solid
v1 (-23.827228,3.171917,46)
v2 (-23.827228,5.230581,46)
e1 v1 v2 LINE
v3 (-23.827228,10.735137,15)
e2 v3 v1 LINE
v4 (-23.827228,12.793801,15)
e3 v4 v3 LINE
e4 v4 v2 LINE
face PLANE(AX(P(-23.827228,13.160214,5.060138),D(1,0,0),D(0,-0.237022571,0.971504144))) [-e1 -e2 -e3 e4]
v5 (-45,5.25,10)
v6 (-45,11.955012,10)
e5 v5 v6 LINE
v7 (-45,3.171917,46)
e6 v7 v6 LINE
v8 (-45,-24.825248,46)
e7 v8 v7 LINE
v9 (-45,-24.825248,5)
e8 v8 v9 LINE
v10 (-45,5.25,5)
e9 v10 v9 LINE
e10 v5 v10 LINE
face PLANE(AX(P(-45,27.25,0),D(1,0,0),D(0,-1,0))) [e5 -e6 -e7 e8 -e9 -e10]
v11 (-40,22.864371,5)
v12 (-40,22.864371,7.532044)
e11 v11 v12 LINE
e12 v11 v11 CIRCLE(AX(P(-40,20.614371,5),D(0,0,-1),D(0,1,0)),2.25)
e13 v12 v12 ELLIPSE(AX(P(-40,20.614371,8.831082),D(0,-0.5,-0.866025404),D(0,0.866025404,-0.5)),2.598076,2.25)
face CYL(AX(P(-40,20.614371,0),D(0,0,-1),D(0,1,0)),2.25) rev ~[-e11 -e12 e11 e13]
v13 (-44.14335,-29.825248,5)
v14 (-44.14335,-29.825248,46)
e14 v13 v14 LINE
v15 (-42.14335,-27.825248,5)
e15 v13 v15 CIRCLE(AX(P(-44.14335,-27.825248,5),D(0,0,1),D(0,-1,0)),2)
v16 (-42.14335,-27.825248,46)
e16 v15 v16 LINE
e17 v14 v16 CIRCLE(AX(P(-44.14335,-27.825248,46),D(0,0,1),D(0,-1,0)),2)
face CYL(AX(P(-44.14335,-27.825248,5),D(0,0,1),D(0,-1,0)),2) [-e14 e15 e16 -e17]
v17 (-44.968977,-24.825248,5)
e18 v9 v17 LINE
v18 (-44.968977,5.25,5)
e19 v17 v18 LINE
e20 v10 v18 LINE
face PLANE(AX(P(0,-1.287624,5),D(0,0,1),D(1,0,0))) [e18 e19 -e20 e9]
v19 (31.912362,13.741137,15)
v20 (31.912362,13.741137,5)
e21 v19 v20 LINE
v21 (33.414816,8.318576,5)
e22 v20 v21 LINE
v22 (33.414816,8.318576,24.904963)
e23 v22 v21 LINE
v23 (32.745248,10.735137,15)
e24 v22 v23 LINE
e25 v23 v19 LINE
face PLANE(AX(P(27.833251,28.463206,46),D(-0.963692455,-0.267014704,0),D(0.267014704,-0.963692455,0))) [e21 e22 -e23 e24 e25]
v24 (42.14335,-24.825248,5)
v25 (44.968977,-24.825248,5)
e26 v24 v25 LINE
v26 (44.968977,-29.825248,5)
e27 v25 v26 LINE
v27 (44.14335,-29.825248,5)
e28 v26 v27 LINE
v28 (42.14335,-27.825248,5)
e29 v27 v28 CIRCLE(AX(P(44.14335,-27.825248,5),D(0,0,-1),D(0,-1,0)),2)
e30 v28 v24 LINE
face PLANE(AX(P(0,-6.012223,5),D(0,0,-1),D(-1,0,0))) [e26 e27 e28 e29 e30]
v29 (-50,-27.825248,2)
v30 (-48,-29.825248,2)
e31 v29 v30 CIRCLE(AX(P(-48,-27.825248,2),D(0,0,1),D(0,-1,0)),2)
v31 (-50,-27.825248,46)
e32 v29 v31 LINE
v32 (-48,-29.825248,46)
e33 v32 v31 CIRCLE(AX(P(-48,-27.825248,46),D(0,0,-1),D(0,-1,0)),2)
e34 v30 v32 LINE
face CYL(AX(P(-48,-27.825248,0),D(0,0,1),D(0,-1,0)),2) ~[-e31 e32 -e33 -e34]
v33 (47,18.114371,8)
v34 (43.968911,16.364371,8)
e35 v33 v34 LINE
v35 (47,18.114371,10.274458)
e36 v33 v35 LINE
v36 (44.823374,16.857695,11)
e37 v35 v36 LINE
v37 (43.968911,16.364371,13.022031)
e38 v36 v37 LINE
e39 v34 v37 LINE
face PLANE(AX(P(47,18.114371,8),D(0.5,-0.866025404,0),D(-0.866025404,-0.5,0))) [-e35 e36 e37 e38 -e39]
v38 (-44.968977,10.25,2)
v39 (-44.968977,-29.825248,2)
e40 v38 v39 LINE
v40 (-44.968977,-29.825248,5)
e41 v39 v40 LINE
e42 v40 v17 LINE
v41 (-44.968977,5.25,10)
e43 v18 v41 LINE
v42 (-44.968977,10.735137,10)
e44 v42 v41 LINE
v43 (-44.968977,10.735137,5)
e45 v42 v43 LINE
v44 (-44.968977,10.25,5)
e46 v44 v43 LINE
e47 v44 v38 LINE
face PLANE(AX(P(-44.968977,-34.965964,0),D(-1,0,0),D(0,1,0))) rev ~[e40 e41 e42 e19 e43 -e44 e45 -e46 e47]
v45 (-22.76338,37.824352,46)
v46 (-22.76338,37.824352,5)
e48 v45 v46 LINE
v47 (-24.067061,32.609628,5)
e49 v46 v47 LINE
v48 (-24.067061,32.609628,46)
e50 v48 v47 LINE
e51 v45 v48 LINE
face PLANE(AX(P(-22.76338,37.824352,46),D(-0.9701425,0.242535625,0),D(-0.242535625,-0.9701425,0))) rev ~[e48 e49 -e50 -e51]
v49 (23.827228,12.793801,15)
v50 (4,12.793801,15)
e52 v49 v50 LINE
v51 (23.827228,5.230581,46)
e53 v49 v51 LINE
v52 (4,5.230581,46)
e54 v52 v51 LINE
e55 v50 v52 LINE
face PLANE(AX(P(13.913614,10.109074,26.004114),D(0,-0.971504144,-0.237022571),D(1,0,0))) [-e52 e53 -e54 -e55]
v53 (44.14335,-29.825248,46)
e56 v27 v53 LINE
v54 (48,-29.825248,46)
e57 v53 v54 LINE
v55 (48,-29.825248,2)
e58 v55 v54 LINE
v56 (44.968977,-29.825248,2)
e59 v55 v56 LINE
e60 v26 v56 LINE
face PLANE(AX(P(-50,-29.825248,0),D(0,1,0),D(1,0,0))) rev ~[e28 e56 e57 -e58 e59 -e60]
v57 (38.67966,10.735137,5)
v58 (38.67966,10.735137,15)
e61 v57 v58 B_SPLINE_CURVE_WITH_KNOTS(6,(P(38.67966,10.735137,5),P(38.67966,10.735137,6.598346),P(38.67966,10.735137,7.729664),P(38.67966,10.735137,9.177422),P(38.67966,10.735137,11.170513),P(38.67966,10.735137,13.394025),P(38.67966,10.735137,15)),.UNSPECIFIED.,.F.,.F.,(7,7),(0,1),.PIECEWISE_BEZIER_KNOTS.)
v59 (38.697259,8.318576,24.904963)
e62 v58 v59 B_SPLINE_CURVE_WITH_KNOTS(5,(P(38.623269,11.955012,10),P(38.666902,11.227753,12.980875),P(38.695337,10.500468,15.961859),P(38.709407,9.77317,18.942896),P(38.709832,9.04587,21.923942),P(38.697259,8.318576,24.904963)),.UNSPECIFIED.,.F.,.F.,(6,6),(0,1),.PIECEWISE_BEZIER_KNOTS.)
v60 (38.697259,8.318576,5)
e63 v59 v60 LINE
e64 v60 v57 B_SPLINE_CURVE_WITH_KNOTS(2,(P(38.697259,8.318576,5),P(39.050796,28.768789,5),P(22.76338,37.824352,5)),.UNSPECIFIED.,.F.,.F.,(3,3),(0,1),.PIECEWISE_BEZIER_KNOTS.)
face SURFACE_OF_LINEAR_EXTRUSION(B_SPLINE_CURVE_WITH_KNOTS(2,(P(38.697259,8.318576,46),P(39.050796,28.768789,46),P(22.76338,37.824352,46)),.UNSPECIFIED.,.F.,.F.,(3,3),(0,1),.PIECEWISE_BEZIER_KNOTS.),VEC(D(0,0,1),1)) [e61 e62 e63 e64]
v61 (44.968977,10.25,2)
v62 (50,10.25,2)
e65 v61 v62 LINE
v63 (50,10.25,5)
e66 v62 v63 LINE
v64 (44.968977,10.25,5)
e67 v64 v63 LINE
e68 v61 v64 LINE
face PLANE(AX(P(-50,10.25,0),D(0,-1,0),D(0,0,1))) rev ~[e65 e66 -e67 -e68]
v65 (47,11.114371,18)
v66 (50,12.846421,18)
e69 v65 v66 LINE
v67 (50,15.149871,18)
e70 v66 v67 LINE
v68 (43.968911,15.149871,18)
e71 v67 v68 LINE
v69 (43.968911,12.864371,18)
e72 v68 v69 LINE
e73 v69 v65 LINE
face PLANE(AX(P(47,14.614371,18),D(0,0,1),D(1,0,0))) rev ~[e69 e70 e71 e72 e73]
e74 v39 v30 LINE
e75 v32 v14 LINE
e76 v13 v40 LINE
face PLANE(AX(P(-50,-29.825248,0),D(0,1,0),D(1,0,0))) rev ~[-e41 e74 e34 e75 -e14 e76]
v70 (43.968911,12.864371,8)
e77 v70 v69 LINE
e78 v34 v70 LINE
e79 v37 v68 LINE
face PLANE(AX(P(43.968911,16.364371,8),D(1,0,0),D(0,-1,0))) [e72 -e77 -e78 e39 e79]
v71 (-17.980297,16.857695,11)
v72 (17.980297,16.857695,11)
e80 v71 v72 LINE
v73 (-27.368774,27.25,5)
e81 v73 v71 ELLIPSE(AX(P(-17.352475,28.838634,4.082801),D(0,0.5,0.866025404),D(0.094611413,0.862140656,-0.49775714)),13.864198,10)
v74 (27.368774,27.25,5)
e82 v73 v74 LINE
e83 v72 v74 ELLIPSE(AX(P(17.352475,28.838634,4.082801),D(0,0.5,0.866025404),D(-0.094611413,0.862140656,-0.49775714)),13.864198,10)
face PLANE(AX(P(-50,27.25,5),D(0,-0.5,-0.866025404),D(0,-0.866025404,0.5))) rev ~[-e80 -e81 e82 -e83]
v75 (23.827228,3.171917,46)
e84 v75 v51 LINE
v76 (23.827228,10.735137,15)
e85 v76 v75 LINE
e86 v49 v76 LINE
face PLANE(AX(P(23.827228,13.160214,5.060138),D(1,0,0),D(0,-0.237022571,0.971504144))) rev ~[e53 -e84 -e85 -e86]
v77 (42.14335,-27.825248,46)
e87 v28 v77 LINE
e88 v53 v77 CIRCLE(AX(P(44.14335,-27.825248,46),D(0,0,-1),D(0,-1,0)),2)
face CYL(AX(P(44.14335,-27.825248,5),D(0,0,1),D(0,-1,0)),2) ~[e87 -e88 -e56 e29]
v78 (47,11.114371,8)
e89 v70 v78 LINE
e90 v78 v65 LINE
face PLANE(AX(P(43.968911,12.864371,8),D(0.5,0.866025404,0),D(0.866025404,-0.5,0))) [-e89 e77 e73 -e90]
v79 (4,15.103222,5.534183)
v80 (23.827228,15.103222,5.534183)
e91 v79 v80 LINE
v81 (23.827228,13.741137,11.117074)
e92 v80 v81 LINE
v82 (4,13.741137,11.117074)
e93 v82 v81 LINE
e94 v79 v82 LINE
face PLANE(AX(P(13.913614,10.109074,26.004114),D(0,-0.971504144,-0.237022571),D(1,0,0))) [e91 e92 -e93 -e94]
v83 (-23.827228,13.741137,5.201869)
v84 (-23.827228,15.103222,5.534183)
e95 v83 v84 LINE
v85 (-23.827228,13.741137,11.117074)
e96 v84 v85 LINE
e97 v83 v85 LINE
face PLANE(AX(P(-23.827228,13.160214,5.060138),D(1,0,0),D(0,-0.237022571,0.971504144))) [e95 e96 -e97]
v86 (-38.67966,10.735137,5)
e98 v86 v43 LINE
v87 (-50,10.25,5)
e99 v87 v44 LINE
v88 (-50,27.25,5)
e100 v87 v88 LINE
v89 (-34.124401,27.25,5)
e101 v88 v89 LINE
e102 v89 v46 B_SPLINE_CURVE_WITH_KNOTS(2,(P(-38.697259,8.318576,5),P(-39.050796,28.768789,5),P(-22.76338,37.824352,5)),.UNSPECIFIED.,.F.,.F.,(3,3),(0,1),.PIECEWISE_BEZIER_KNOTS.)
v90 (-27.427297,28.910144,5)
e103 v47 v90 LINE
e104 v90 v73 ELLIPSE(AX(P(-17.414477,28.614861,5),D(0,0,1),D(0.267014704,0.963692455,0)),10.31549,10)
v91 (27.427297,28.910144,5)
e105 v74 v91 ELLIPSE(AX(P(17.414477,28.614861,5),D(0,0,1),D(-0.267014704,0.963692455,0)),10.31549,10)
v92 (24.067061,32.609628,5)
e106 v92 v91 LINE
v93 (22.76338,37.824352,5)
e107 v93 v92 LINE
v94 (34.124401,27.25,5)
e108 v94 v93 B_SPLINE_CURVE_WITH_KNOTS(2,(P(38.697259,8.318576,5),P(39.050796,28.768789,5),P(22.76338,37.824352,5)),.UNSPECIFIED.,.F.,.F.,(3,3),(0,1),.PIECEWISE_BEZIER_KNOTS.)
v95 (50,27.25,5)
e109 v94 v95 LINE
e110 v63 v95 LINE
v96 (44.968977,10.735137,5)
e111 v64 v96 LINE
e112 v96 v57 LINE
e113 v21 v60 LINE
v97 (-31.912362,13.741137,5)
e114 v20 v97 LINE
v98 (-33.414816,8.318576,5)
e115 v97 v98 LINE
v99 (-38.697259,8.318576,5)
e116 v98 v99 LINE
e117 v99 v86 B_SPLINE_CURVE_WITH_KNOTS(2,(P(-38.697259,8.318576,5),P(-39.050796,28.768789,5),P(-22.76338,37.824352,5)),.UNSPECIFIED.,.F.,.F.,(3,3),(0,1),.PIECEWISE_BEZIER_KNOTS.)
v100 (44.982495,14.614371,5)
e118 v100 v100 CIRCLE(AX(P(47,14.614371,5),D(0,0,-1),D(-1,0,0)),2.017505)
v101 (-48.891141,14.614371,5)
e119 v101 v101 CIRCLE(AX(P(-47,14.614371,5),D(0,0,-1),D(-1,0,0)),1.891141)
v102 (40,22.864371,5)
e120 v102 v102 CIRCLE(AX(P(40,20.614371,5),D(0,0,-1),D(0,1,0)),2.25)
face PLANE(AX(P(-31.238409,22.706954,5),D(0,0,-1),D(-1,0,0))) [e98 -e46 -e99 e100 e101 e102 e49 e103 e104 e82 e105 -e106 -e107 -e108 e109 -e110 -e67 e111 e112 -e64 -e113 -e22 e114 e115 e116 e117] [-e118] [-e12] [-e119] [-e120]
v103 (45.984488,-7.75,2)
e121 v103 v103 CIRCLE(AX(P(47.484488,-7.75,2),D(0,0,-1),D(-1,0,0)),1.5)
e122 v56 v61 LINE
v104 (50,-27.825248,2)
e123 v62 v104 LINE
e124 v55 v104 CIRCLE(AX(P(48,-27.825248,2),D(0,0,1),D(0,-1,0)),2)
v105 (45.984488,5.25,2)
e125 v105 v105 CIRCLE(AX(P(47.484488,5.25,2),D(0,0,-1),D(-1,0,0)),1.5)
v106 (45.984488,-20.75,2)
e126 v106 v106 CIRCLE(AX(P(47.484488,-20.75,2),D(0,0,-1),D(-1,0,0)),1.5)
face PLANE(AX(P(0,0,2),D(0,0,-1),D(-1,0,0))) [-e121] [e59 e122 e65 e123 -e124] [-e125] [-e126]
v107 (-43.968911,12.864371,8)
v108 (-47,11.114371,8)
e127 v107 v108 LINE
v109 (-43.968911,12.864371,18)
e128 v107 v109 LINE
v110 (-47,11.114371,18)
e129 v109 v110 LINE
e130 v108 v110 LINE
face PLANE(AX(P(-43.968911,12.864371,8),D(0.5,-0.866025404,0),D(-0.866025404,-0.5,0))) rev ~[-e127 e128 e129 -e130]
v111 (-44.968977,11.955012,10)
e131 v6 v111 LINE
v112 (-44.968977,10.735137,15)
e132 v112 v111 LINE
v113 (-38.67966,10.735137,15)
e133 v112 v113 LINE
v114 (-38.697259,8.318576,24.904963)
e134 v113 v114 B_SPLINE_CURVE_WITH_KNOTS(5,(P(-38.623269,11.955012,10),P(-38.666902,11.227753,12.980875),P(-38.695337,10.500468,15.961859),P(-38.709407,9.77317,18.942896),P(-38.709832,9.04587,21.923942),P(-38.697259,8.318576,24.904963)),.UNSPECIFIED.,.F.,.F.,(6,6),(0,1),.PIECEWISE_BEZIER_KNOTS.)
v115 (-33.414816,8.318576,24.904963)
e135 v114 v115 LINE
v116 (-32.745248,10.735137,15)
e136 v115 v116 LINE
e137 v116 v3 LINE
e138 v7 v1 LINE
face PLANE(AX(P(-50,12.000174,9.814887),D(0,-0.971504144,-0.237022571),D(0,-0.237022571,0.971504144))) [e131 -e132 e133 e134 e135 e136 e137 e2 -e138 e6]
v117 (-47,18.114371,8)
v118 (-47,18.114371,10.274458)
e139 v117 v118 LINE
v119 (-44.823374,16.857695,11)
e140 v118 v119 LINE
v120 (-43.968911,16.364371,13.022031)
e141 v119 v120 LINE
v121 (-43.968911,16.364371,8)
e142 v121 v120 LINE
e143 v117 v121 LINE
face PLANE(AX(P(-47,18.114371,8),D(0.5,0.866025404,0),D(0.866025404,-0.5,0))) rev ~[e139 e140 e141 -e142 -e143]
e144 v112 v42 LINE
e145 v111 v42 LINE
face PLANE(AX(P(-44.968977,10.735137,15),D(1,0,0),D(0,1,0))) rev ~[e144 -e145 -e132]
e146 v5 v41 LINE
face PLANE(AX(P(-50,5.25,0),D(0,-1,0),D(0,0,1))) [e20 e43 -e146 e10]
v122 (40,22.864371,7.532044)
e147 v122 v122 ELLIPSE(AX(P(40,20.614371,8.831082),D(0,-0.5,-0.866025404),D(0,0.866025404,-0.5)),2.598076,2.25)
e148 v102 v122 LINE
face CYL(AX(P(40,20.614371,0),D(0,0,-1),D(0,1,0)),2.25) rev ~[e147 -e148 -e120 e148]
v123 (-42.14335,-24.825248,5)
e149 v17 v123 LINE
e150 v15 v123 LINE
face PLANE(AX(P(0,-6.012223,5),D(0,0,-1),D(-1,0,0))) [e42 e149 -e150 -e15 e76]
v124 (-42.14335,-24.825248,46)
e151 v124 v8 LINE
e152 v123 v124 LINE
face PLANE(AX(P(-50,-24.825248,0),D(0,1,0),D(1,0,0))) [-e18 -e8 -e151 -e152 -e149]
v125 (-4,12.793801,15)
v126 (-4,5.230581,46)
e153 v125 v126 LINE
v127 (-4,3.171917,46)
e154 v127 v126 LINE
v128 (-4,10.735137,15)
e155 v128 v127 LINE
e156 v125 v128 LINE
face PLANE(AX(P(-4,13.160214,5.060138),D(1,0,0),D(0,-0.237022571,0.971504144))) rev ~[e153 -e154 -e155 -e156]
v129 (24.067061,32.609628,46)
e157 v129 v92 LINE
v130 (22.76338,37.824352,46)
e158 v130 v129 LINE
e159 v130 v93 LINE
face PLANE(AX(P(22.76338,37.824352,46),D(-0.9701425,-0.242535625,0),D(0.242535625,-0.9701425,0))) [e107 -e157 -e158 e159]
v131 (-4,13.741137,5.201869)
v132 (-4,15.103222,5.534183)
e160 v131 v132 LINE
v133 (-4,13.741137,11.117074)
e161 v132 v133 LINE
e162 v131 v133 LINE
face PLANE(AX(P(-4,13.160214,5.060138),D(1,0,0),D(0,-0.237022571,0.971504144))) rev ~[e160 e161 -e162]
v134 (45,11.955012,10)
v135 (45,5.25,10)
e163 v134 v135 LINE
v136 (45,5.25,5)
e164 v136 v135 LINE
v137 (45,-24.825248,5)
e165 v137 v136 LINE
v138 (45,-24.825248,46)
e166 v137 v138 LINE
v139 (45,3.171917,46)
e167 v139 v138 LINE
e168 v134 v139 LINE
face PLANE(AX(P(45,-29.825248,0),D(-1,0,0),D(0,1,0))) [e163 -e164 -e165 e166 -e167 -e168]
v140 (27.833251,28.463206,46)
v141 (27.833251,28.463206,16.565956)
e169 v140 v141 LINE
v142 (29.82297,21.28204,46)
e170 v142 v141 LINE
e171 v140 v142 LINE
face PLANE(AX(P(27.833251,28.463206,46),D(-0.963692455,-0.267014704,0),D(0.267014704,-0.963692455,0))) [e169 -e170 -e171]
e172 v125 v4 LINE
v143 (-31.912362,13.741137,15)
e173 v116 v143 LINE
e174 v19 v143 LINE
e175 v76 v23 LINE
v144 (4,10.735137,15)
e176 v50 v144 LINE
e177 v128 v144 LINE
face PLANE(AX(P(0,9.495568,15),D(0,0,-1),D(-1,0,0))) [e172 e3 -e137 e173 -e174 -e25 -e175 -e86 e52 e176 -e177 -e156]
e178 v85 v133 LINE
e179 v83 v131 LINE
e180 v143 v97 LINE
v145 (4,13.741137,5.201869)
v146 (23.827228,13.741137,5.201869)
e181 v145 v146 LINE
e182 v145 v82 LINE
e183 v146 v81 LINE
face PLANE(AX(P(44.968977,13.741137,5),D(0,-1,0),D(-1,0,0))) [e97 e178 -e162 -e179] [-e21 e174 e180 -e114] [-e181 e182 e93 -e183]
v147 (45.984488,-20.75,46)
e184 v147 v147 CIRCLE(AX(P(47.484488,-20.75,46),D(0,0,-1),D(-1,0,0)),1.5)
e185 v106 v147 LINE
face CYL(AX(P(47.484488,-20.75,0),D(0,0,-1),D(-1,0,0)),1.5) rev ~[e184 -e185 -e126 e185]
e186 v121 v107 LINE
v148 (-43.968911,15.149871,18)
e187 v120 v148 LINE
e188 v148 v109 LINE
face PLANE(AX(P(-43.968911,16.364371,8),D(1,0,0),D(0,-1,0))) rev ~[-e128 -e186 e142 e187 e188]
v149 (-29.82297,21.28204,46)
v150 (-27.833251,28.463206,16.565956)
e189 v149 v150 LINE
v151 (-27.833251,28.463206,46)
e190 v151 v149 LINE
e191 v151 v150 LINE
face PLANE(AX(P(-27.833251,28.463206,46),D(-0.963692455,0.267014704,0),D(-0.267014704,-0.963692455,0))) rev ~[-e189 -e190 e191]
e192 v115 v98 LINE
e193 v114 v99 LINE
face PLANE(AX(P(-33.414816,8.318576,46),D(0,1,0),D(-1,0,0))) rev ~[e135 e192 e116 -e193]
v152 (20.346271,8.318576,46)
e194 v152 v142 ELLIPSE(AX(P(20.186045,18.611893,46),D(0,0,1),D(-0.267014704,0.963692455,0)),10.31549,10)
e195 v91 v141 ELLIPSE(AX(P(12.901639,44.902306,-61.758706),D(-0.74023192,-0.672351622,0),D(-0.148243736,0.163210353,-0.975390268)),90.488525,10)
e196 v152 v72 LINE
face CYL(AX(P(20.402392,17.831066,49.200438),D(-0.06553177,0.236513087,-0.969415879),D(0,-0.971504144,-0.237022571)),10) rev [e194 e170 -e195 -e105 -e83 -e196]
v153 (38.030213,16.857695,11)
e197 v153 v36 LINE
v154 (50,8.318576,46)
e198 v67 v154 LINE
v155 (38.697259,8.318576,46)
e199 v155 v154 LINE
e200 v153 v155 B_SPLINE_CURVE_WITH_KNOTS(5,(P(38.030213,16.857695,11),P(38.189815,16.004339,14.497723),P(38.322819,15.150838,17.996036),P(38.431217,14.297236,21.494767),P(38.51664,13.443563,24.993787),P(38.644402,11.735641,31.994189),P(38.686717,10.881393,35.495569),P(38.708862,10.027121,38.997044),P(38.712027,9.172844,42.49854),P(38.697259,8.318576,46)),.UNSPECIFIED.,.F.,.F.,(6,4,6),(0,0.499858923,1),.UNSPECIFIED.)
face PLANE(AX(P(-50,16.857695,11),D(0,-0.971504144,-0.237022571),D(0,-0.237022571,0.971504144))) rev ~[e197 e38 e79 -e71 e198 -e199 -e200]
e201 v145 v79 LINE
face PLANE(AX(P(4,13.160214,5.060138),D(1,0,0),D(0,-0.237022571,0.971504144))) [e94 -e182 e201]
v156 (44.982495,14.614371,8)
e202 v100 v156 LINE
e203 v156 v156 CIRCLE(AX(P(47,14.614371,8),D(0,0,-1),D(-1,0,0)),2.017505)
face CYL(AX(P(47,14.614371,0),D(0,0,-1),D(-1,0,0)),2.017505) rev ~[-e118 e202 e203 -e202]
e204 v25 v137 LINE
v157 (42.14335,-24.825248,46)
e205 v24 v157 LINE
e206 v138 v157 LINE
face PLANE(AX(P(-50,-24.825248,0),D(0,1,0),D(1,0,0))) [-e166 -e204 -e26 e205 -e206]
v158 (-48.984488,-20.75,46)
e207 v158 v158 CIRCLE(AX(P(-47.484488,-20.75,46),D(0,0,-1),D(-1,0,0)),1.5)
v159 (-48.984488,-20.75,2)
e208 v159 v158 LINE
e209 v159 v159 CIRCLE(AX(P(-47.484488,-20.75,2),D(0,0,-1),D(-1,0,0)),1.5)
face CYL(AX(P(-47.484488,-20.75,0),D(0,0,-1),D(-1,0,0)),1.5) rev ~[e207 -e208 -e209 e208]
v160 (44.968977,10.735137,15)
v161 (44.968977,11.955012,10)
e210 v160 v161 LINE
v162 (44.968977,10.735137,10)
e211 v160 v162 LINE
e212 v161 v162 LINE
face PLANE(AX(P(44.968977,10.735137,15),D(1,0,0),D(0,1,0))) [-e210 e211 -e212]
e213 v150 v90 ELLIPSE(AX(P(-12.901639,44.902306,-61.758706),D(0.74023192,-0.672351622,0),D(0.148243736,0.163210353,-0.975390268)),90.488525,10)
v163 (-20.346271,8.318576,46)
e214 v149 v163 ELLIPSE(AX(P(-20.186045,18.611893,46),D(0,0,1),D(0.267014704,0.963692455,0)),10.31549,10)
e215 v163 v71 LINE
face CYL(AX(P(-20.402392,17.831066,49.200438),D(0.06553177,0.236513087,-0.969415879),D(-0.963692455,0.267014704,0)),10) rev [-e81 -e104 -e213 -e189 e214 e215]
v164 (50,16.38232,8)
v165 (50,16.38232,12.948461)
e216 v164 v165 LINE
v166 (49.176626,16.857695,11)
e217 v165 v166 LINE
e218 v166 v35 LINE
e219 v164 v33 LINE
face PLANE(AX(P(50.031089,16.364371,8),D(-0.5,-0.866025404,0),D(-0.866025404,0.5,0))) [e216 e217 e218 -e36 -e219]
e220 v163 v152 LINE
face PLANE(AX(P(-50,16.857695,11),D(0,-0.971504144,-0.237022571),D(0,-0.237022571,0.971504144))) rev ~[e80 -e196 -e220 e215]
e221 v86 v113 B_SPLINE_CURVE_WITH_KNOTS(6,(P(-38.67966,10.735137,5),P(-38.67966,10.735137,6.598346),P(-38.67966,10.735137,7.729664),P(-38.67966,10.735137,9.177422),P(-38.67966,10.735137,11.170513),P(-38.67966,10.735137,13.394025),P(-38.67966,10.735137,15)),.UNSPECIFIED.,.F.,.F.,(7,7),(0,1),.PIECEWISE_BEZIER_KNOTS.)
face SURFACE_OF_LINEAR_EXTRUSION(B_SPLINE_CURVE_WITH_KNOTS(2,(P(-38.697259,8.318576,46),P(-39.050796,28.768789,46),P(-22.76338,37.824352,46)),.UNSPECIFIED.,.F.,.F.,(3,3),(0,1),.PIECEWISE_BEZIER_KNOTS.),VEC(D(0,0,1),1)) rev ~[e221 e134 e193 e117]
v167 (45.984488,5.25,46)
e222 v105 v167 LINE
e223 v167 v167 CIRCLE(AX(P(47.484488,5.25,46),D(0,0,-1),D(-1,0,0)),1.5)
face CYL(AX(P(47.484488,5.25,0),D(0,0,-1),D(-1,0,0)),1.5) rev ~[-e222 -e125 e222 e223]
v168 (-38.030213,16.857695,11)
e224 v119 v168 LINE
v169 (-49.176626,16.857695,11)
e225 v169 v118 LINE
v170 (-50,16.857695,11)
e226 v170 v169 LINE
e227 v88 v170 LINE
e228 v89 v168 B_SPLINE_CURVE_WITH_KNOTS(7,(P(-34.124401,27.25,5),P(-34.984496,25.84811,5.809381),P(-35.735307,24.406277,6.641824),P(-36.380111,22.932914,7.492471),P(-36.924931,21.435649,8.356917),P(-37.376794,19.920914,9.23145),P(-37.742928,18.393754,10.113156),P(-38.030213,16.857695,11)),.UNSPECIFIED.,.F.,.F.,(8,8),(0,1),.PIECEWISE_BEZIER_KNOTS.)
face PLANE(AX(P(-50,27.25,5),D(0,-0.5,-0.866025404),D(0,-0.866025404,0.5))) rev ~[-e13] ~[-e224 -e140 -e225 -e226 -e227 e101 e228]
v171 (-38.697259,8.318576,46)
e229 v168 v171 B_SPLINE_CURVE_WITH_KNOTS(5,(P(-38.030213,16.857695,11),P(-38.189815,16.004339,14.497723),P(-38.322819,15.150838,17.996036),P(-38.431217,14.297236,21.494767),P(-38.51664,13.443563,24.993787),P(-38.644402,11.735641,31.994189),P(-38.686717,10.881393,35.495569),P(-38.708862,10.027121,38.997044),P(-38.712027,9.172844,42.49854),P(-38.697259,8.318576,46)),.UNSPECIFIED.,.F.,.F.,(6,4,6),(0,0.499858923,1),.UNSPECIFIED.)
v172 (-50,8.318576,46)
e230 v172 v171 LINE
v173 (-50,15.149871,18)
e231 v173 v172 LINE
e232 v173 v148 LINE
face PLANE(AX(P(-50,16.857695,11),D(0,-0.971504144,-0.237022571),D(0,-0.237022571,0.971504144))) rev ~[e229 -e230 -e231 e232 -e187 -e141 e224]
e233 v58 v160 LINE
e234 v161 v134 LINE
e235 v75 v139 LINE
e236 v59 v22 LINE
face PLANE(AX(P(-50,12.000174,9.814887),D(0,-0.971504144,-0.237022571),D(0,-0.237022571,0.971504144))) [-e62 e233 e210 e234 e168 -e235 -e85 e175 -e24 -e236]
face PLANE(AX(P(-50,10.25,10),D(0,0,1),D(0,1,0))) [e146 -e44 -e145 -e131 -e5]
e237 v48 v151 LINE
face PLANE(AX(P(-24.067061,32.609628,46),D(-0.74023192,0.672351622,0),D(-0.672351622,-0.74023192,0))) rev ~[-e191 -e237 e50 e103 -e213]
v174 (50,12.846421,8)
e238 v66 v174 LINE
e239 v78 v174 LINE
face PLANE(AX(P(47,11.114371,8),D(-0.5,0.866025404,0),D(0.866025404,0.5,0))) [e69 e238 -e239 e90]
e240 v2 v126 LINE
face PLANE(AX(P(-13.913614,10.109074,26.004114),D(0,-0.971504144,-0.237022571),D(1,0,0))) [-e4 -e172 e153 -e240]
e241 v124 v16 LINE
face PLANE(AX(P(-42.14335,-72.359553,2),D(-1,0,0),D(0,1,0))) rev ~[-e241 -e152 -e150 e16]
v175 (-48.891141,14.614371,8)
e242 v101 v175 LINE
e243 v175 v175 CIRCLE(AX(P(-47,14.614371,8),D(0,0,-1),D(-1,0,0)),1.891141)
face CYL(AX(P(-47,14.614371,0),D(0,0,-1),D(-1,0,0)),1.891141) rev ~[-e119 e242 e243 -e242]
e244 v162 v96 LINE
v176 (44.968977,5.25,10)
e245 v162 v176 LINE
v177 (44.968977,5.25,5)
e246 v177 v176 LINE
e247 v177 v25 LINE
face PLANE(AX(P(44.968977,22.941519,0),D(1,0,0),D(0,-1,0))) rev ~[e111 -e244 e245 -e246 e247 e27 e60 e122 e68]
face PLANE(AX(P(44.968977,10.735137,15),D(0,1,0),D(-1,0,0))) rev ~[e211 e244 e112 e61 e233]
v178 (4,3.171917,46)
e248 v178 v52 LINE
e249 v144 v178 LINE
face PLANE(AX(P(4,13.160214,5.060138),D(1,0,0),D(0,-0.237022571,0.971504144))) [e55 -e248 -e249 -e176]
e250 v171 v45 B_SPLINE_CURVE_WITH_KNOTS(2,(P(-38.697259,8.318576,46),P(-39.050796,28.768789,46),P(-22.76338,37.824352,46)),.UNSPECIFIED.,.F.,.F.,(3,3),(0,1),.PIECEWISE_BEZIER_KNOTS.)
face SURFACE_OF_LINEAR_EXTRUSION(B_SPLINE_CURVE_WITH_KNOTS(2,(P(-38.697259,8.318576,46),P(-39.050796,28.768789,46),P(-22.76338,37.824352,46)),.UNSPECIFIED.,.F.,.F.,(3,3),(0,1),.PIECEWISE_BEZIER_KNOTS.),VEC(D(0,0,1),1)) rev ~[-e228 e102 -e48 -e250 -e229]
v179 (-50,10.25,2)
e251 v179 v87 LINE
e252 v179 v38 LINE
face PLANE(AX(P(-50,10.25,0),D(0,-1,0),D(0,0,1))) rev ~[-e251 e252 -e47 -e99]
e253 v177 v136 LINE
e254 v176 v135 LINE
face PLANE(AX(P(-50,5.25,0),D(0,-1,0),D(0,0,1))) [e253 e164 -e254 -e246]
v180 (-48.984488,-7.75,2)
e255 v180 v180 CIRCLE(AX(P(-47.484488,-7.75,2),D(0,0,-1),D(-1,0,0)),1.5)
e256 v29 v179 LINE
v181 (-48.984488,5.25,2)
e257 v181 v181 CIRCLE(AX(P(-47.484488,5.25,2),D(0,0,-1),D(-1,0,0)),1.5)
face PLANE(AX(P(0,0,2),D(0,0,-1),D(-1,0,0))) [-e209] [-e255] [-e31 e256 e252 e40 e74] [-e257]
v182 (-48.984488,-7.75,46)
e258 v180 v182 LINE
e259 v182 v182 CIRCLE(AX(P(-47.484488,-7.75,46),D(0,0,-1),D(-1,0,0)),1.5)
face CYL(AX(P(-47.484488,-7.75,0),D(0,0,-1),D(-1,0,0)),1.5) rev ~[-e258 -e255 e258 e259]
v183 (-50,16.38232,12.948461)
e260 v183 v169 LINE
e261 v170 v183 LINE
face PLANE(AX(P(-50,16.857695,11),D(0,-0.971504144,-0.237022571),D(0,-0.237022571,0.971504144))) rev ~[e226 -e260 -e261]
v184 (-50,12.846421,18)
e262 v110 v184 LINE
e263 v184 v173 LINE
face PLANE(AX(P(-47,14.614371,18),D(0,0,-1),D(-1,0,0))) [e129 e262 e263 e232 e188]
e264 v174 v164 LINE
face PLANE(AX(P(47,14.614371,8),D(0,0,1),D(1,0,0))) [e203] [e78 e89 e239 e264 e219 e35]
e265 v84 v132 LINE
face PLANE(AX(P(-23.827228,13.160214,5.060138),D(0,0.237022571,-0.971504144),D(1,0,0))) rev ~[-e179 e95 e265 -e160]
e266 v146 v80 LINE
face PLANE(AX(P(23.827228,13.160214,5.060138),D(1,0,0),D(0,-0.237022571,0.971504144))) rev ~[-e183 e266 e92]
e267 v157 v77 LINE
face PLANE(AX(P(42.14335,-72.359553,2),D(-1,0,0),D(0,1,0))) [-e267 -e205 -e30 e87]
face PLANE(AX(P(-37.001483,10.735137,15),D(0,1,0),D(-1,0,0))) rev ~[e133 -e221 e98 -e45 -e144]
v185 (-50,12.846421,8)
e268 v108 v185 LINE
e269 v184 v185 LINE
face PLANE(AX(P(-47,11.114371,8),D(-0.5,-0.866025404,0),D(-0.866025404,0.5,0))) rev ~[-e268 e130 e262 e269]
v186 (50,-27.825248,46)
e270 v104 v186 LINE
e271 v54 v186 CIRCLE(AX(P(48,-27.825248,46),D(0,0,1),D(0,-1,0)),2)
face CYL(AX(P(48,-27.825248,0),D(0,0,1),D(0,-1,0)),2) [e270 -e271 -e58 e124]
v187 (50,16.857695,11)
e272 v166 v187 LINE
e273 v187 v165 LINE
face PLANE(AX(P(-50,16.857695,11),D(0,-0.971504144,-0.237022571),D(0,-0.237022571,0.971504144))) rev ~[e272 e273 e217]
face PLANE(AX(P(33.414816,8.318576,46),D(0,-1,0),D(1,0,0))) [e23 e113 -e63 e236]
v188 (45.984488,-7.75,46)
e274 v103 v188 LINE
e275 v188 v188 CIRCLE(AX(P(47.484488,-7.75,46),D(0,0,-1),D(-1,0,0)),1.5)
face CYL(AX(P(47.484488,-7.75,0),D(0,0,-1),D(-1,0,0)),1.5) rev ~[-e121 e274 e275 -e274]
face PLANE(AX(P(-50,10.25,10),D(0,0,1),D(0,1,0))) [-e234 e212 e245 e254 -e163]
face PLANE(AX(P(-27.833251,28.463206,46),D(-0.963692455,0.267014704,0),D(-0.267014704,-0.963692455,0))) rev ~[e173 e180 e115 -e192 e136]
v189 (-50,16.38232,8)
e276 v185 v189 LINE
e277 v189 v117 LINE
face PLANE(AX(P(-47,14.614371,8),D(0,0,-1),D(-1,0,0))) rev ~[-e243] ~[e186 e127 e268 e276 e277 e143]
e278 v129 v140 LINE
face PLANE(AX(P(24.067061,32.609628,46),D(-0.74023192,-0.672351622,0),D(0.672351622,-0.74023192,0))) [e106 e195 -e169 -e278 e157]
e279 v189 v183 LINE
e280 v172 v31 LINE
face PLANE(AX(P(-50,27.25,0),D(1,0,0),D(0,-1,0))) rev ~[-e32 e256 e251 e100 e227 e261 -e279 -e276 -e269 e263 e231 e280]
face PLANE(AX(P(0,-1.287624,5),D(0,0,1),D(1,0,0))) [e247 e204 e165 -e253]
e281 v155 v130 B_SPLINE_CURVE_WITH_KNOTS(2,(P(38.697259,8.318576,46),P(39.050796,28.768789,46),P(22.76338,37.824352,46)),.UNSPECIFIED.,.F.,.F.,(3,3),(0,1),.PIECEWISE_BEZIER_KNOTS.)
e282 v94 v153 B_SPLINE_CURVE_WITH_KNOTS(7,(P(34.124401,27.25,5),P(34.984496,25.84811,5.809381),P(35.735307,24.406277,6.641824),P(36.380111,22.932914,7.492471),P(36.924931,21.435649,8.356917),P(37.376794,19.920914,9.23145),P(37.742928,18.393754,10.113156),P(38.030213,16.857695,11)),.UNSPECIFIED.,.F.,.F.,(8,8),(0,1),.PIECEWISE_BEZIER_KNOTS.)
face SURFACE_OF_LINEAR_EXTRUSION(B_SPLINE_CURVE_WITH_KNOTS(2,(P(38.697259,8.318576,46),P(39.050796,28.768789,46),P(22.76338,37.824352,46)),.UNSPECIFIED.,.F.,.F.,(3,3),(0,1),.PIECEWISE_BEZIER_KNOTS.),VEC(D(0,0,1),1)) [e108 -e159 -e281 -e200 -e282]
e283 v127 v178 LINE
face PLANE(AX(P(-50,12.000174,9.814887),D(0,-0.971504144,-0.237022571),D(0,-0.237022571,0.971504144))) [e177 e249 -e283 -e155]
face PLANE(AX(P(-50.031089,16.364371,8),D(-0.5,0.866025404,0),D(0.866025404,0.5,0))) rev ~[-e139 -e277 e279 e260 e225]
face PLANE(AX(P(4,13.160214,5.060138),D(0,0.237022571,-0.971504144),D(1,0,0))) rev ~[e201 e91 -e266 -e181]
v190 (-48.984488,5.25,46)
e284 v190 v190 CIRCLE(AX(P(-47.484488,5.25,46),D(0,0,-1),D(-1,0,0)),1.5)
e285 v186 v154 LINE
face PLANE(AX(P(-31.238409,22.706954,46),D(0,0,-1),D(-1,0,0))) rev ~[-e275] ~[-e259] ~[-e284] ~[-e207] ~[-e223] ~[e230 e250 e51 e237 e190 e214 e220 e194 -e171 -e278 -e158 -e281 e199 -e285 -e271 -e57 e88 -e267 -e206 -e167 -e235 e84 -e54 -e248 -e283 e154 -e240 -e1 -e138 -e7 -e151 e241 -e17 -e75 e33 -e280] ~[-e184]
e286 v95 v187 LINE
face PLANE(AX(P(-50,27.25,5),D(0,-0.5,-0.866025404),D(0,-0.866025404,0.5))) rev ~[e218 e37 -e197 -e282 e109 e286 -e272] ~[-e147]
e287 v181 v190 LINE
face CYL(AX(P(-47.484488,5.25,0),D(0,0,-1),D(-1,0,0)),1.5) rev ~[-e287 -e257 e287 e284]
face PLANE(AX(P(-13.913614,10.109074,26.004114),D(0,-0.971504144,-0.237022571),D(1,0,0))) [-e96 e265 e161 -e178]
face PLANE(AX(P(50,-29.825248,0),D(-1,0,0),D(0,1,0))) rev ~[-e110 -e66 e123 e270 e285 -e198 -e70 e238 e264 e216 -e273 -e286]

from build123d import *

# Parameters (mm, degrees)
SALIENTE_EXTRUIR1_DEPTH = 46
CROQUIS3_W              = 5
CROQUIS3_H              = 17
CORTAR_EXTRUIR1_DEPTH   = 107
VACIADO1_T              = -5
CORTAR_EXTRUIR3_DEPTH   = 5
CROQUIS8_W              = 84.286700134
CROQUIS8_H              = 59.012293191
CORTAR_EXTRUIR6_DEPTH   = 50
CROQUIS9_W              = 89.93795334
CROQUIS9_H              = 8.49113686
CORTAR_EXTRUIR7_DEPTH   = 10
REDONDEO1_R             = 2
REDONDEO2_R             = 2
REDONDEO3_R             = 2
CROQUIS10_W             = 19.827227688
CROQUIS10_H             = 42.140696998
CORTAR_EXTRUIR8_DEPTH   = 2
CROQUIS11_R             = 2.017504942
CROQUIS11_R_2           = 1.891140859
CORTAR_EXTRUIR9_DEPTH   = 9
CROQUIS12_R             = 2.25
CORTAR_EXTRUIR10_DEPTH  = 33
CORTAR_EXTRUIR11_START  = -3
CROQUIS13_R             = 2.075
CORTAR_EXTRUIR11_DEPTH  = 7
CROQUIS15_W             = 7.96749323
CROQUIS15_H             = 3.005999516
SALIENTE_EXTRUIR2_DEPTH = 10
CROQUIS16_R             = 1.5
CORTAR_EXTRUIR13_DEPTH  = 73
CROQUIS17_W             = 124.159046256
CROQUIS17_H             = 73.830112024
CORTAR_EXTRUIR14_DEPTH  = 2
CORTAR_EXTRUIR15_DEPTH  = 10
SALIENTE_EXTRUIR3_DEPTH = 41
REDONDEO4_R             = 10


with BuildPart() as part:
    # Croquis1 → Saliente-Extruir1 (new body)
    with BuildSketch(Plane.XY):
        Polygon((-50, -27.25), (-50, -29.825247619), (50, -29.825247619), (50, -27.25), (50, 27.25), (-50, 27.25), align=None)
    extrude(amount=SALIENTE_EXTRUIR1_DEPTH)

    # Croquis3 → Cortar-Extruir1 (cut)
    with BuildSketch(Plane.ZY.offset(50)):
        Polygon((46, 27.25), (5, 27.25), (11, 16.857695155), (46, 8.318575661), align=None)
        with Locations((2.5, 18.75)):
            Rectangle(CROQUIS3_W, CROQUIS3_H)
    extrude(amount=-CORTAR_EXTRUIR1_DEPTH, mode=Mode.SUBTRACT)

    # Vaciado1
    vaciado1_openings = [part.faces().sort_by_distance(p)[0] for p in [
        (0, -10.753335979, 46),
    ]]
    offset(amount=VACIADO1_T, openings=vaciado1_openings, kind=Kind.INTERSECTION)

    # Croquis5 → Cortar-Extruir3 (cut)
    with BuildSketch(Plane(origin=(0, 0, 0), x_dir=(-1, 0, 0), z_dir=(0, 0, -1))):
        Polygon((-44.96897667, 22.941518711), (-44.96897667, -22.941518711), (-44.96897667, -34.965963837), (44.96897667, -34.965963837), (44.96897667, -22.941518711), (44.96897667, 22.941518711), align=None)
    extrude(amount=-CORTAR_EXTRUIR3_DEPTH, mode=Mode.SUBTRACT)

    # Croquis8 → Cortar-Extruir6 (cut)
    with BuildSketch(Plane(origin=(0, 0, 2), x_dir=(-1, 0, 0), z_dir=(0, 0, -1))):
        with Locations((0, -42.853406707)):
            Rectangle(CROQUIS8_W, CROQUIS8_H)
    extrude(amount=-CORTAR_EXTRUIR6_DEPTH, mode=Mode.SUBTRACT)

    # Croquis9 → Cortar-Extruir7 (cut)
    with BuildSketch(Plane(origin=(0, 0, 5), x_dir=(-1, 0, 0), z_dir=(0, 0, -1))):
        with Locations((0, 9.49556843)):
            Rectangle(CROQUIS9_W, CROQUIS9_H)
    extrude(amount=-CORTAR_EXTRUIR7_DEPTH, mode=Mode.SUBTRACT)

    # Redondeo1
    redondeo1_edges = [part.edges().sort_by_distance(p)[0] for p in [
        (42.143350067, -29.825247619, 25.5),
        (-50, -29.825247619, 23),
    ]]
    fillet(redondeo1_edges, radius=REDONDEO1_R)

    # Redondeo2
    redondeo2_edges = [part.edges().sort_by_distance(p)[0] for p in [
        (50, -29.825247619, 23),
    ]]
    fillet(redondeo2_edges, radius=REDONDEO2_R)

    # Redondeo3
    redondeo3_edges = [part.edges().sort_by_distance(p)[0] for p in [
        (-42.143350067, -29.825247619, 25.5),
    ]]
    fillet(redondeo3_edges, radius=REDONDEO3_R)

    # Croquis10 → Cortar-Extruir8 (cut)
    with BuildSketch(Plane(origin=(0, 13.586066701, 3.314658486), x_dir=(1, 0, 0), z_dir=(0, -0.9715041436001179, -0.237022570587279))):
        with Locations((13.913613844, 22.867026133)):
            Rectangle(CROQUIS10_W, CROQUIS10_H)
        with Locations((-13.913613844, 22.867026133)):
            Rectangle(CROQUIS10_W, CROQUIS10_H)
    extrude(amount=-CORTAR_EXTRUIR8_DEPTH, mode=Mode.SUBTRACT)

    # Croquis11 → Cortar-Extruir9 (cut)
    with BuildSketch(Plane(origin=(0, 0, 0), x_dir=(-1, 0, 0), z_dir=(0, 0, -1))):
        with Locations((-47, 14.614370501)):
            Circle(CROQUIS11_R)
        with Locations((47, 14.614370501)):
            Circle(CROQUIS11_R_2)
    extrude(amount=-CORTAR_EXTRUIR9_DEPTH, mode=Mode.SUBTRACT)

    # Croquis12 → Cortar-Extruir10 (cut)
    with BuildSketch(Plane(origin=(0, 0, 0), x_dir=(-1, 0, 0), z_dir=(0, 0, -1))):
        with Locations((40, 20.614370501)):
            Circle(CROQUIS12_R)
        with Locations((-40, 20.614370501)):
            Circle(CROQUIS12_R)
    extrude(amount=-CORTAR_EXTRUIR10_DEPTH, mode=Mode.SUBTRACT)

    # Croquis13 → Cortar-Extruir11 (cut)
    with BuildSketch(Plane(origin=(0, 0, 5), x_dir=(-1, 0, 0), z_dir=(0, 0, -1)).offset(CORTAR_EXTRUIR11_START)):
        with Locations((47, 14.614370501)):
            Circle(CROQUIS13_R)
        with Locations((-47, 14.614370501)):
            Circle(CROQUIS13_R)
    extrude(amount=-CORTAR_EXTRUIR11_DEPTH, mode=Mode.SUBTRACT)

    # Croquis15 → Saliente-Extruir2 (add)
    with BuildSketch(Plane(origin=(0, 0, 15), x_dir=(-1, 0, 0), z_dir=(0, 0, -1))):
        with Locations((-40.985230055, 12.238137102)):
            Rectangle(CROQUIS15_W, CROQUIS15_H)
        with Locations((40.985230055, 12.238137102)):
            Rectangle(CROQUIS15_W, CROQUIS15_H)
    extrude(amount=SALIENTE_EXTRUIR2_DEPTH)

    # Croquis16 → Cortar-Extruir13 (cut)
    with BuildSketch(Plane(origin=(0, 0, 0), x_dir=(-1, 0, 0), z_dir=(0, 0, -1))):
        with Locations((-47.484488335, 5.25)):
            Circle(CROQUIS16_R)
        with Locations((-47.484488335, -20.75)):
            Circle(CROQUIS16_R)
        with Locations((-47.484488335, -7.75)):
            Circle(CROQUIS16_R)
        with Locations((47.484488335, -7.75)):
            Circle(CROQUIS16_R)
        with Locations((47.484488335, -20.75)):
            Circle(CROQUIS16_R)
        with Locations((47.484488335, 5.25)):
            Circle(CROQUIS16_R)
    extrude(amount=-CORTAR_EXTRUIR13_DEPTH, mode=Mode.SUBTRACT)

    # Croquis17 → Cortar-Extruir14 (cut)
    with BuildSketch(Plane(origin=(0, 0, 0), x_dir=(-1, 0, 0), z_dir=(0, 0, -1))):
        Rectangle(CROQUIS17_W, CROQUIS17_H)
    extrude(amount=-CORTAR_EXTRUIR14_DEPTH, mode=Mode.SUBTRACT)

    # Croquis19 → Cortar-Extruir15 (cut)
    with BuildSketch(Plane.XY.offset(8)):
        Polygon((47, 11.114370501), (50.031088913, 12.864370501), (50.031088913, 16.364370501), (47, 18.114370501), (43.968911087, 16.364370501), (43.968911087, 12.864370501), align=None)
        Polygon((-43.968911087, 12.864370501), (-47, 11.114370501), (-50.031088913, 12.864370501), (-50.031088913, 16.364370501), (-47, 18.114370501), (-43.968911087, 16.364370501), align=None)
    extrude(amount=CORTAR_EXTRUIR15_DEPTH, mode=Mode.SUBTRACT)

    # Croquis21 → Saliente-Extruir3 (add)
    with BuildSketch(Plane.XY.offset(46)):
        with BuildLine():
            Line((-22.763380433, 37.82435205), (-24.067061415, 32.609628124))
            Line((-24.067061415, 32.609628124), (-27.833250917, 28.463205933))
            Line((-27.833250917, 28.463205933), (-33.41481635, 8.318575661))
            Line((-33.41481635, 8.318575661), (-38.697259097, 8.318575661))
            add(Edge.make_bspline(
                [(-38.697259097, 8.318575661), (-39.050795871, 28.768789272), (-22.763380433, 37.82435205)],
                knots=[0, 0, 0, 1, 1, 1], degree=2))
        make_face()
        with BuildLine():
            Line((27.833250917, 28.463205933), (33.41481635, 8.318575661))
            Line((33.41481635, 8.318575661), (38.697259097, 8.318575661))
            add(Edge.make_bspline(
                [(38.697259097, 8.318575661), (39.050795871, 28.768789272), (22.763380433, 37.82435205)],
                knots=[0, 0, 0, 1, 1, 1], degree=2))
            Line((22.763380433, 37.82435205), (24.067061415, 32.609628124))
            Line((24.067061415, 32.609628124), (27.833250917, 28.463205933))
        make_face()
    extrude(amount=-SALIENTE_EXTRUIR3_DEPTH)

    # Redondeo4
    redondeo4_edges = [part.edges().sort_by_distance(p)[0] for p in [
        (-32.231829779, 12.588135408, 28.5),
        (32.231829779, 12.588135408, 28.5),
    ]]
    fillet(redondeo4_edges, radius=REDONDEO4_R)


solid = part.part
